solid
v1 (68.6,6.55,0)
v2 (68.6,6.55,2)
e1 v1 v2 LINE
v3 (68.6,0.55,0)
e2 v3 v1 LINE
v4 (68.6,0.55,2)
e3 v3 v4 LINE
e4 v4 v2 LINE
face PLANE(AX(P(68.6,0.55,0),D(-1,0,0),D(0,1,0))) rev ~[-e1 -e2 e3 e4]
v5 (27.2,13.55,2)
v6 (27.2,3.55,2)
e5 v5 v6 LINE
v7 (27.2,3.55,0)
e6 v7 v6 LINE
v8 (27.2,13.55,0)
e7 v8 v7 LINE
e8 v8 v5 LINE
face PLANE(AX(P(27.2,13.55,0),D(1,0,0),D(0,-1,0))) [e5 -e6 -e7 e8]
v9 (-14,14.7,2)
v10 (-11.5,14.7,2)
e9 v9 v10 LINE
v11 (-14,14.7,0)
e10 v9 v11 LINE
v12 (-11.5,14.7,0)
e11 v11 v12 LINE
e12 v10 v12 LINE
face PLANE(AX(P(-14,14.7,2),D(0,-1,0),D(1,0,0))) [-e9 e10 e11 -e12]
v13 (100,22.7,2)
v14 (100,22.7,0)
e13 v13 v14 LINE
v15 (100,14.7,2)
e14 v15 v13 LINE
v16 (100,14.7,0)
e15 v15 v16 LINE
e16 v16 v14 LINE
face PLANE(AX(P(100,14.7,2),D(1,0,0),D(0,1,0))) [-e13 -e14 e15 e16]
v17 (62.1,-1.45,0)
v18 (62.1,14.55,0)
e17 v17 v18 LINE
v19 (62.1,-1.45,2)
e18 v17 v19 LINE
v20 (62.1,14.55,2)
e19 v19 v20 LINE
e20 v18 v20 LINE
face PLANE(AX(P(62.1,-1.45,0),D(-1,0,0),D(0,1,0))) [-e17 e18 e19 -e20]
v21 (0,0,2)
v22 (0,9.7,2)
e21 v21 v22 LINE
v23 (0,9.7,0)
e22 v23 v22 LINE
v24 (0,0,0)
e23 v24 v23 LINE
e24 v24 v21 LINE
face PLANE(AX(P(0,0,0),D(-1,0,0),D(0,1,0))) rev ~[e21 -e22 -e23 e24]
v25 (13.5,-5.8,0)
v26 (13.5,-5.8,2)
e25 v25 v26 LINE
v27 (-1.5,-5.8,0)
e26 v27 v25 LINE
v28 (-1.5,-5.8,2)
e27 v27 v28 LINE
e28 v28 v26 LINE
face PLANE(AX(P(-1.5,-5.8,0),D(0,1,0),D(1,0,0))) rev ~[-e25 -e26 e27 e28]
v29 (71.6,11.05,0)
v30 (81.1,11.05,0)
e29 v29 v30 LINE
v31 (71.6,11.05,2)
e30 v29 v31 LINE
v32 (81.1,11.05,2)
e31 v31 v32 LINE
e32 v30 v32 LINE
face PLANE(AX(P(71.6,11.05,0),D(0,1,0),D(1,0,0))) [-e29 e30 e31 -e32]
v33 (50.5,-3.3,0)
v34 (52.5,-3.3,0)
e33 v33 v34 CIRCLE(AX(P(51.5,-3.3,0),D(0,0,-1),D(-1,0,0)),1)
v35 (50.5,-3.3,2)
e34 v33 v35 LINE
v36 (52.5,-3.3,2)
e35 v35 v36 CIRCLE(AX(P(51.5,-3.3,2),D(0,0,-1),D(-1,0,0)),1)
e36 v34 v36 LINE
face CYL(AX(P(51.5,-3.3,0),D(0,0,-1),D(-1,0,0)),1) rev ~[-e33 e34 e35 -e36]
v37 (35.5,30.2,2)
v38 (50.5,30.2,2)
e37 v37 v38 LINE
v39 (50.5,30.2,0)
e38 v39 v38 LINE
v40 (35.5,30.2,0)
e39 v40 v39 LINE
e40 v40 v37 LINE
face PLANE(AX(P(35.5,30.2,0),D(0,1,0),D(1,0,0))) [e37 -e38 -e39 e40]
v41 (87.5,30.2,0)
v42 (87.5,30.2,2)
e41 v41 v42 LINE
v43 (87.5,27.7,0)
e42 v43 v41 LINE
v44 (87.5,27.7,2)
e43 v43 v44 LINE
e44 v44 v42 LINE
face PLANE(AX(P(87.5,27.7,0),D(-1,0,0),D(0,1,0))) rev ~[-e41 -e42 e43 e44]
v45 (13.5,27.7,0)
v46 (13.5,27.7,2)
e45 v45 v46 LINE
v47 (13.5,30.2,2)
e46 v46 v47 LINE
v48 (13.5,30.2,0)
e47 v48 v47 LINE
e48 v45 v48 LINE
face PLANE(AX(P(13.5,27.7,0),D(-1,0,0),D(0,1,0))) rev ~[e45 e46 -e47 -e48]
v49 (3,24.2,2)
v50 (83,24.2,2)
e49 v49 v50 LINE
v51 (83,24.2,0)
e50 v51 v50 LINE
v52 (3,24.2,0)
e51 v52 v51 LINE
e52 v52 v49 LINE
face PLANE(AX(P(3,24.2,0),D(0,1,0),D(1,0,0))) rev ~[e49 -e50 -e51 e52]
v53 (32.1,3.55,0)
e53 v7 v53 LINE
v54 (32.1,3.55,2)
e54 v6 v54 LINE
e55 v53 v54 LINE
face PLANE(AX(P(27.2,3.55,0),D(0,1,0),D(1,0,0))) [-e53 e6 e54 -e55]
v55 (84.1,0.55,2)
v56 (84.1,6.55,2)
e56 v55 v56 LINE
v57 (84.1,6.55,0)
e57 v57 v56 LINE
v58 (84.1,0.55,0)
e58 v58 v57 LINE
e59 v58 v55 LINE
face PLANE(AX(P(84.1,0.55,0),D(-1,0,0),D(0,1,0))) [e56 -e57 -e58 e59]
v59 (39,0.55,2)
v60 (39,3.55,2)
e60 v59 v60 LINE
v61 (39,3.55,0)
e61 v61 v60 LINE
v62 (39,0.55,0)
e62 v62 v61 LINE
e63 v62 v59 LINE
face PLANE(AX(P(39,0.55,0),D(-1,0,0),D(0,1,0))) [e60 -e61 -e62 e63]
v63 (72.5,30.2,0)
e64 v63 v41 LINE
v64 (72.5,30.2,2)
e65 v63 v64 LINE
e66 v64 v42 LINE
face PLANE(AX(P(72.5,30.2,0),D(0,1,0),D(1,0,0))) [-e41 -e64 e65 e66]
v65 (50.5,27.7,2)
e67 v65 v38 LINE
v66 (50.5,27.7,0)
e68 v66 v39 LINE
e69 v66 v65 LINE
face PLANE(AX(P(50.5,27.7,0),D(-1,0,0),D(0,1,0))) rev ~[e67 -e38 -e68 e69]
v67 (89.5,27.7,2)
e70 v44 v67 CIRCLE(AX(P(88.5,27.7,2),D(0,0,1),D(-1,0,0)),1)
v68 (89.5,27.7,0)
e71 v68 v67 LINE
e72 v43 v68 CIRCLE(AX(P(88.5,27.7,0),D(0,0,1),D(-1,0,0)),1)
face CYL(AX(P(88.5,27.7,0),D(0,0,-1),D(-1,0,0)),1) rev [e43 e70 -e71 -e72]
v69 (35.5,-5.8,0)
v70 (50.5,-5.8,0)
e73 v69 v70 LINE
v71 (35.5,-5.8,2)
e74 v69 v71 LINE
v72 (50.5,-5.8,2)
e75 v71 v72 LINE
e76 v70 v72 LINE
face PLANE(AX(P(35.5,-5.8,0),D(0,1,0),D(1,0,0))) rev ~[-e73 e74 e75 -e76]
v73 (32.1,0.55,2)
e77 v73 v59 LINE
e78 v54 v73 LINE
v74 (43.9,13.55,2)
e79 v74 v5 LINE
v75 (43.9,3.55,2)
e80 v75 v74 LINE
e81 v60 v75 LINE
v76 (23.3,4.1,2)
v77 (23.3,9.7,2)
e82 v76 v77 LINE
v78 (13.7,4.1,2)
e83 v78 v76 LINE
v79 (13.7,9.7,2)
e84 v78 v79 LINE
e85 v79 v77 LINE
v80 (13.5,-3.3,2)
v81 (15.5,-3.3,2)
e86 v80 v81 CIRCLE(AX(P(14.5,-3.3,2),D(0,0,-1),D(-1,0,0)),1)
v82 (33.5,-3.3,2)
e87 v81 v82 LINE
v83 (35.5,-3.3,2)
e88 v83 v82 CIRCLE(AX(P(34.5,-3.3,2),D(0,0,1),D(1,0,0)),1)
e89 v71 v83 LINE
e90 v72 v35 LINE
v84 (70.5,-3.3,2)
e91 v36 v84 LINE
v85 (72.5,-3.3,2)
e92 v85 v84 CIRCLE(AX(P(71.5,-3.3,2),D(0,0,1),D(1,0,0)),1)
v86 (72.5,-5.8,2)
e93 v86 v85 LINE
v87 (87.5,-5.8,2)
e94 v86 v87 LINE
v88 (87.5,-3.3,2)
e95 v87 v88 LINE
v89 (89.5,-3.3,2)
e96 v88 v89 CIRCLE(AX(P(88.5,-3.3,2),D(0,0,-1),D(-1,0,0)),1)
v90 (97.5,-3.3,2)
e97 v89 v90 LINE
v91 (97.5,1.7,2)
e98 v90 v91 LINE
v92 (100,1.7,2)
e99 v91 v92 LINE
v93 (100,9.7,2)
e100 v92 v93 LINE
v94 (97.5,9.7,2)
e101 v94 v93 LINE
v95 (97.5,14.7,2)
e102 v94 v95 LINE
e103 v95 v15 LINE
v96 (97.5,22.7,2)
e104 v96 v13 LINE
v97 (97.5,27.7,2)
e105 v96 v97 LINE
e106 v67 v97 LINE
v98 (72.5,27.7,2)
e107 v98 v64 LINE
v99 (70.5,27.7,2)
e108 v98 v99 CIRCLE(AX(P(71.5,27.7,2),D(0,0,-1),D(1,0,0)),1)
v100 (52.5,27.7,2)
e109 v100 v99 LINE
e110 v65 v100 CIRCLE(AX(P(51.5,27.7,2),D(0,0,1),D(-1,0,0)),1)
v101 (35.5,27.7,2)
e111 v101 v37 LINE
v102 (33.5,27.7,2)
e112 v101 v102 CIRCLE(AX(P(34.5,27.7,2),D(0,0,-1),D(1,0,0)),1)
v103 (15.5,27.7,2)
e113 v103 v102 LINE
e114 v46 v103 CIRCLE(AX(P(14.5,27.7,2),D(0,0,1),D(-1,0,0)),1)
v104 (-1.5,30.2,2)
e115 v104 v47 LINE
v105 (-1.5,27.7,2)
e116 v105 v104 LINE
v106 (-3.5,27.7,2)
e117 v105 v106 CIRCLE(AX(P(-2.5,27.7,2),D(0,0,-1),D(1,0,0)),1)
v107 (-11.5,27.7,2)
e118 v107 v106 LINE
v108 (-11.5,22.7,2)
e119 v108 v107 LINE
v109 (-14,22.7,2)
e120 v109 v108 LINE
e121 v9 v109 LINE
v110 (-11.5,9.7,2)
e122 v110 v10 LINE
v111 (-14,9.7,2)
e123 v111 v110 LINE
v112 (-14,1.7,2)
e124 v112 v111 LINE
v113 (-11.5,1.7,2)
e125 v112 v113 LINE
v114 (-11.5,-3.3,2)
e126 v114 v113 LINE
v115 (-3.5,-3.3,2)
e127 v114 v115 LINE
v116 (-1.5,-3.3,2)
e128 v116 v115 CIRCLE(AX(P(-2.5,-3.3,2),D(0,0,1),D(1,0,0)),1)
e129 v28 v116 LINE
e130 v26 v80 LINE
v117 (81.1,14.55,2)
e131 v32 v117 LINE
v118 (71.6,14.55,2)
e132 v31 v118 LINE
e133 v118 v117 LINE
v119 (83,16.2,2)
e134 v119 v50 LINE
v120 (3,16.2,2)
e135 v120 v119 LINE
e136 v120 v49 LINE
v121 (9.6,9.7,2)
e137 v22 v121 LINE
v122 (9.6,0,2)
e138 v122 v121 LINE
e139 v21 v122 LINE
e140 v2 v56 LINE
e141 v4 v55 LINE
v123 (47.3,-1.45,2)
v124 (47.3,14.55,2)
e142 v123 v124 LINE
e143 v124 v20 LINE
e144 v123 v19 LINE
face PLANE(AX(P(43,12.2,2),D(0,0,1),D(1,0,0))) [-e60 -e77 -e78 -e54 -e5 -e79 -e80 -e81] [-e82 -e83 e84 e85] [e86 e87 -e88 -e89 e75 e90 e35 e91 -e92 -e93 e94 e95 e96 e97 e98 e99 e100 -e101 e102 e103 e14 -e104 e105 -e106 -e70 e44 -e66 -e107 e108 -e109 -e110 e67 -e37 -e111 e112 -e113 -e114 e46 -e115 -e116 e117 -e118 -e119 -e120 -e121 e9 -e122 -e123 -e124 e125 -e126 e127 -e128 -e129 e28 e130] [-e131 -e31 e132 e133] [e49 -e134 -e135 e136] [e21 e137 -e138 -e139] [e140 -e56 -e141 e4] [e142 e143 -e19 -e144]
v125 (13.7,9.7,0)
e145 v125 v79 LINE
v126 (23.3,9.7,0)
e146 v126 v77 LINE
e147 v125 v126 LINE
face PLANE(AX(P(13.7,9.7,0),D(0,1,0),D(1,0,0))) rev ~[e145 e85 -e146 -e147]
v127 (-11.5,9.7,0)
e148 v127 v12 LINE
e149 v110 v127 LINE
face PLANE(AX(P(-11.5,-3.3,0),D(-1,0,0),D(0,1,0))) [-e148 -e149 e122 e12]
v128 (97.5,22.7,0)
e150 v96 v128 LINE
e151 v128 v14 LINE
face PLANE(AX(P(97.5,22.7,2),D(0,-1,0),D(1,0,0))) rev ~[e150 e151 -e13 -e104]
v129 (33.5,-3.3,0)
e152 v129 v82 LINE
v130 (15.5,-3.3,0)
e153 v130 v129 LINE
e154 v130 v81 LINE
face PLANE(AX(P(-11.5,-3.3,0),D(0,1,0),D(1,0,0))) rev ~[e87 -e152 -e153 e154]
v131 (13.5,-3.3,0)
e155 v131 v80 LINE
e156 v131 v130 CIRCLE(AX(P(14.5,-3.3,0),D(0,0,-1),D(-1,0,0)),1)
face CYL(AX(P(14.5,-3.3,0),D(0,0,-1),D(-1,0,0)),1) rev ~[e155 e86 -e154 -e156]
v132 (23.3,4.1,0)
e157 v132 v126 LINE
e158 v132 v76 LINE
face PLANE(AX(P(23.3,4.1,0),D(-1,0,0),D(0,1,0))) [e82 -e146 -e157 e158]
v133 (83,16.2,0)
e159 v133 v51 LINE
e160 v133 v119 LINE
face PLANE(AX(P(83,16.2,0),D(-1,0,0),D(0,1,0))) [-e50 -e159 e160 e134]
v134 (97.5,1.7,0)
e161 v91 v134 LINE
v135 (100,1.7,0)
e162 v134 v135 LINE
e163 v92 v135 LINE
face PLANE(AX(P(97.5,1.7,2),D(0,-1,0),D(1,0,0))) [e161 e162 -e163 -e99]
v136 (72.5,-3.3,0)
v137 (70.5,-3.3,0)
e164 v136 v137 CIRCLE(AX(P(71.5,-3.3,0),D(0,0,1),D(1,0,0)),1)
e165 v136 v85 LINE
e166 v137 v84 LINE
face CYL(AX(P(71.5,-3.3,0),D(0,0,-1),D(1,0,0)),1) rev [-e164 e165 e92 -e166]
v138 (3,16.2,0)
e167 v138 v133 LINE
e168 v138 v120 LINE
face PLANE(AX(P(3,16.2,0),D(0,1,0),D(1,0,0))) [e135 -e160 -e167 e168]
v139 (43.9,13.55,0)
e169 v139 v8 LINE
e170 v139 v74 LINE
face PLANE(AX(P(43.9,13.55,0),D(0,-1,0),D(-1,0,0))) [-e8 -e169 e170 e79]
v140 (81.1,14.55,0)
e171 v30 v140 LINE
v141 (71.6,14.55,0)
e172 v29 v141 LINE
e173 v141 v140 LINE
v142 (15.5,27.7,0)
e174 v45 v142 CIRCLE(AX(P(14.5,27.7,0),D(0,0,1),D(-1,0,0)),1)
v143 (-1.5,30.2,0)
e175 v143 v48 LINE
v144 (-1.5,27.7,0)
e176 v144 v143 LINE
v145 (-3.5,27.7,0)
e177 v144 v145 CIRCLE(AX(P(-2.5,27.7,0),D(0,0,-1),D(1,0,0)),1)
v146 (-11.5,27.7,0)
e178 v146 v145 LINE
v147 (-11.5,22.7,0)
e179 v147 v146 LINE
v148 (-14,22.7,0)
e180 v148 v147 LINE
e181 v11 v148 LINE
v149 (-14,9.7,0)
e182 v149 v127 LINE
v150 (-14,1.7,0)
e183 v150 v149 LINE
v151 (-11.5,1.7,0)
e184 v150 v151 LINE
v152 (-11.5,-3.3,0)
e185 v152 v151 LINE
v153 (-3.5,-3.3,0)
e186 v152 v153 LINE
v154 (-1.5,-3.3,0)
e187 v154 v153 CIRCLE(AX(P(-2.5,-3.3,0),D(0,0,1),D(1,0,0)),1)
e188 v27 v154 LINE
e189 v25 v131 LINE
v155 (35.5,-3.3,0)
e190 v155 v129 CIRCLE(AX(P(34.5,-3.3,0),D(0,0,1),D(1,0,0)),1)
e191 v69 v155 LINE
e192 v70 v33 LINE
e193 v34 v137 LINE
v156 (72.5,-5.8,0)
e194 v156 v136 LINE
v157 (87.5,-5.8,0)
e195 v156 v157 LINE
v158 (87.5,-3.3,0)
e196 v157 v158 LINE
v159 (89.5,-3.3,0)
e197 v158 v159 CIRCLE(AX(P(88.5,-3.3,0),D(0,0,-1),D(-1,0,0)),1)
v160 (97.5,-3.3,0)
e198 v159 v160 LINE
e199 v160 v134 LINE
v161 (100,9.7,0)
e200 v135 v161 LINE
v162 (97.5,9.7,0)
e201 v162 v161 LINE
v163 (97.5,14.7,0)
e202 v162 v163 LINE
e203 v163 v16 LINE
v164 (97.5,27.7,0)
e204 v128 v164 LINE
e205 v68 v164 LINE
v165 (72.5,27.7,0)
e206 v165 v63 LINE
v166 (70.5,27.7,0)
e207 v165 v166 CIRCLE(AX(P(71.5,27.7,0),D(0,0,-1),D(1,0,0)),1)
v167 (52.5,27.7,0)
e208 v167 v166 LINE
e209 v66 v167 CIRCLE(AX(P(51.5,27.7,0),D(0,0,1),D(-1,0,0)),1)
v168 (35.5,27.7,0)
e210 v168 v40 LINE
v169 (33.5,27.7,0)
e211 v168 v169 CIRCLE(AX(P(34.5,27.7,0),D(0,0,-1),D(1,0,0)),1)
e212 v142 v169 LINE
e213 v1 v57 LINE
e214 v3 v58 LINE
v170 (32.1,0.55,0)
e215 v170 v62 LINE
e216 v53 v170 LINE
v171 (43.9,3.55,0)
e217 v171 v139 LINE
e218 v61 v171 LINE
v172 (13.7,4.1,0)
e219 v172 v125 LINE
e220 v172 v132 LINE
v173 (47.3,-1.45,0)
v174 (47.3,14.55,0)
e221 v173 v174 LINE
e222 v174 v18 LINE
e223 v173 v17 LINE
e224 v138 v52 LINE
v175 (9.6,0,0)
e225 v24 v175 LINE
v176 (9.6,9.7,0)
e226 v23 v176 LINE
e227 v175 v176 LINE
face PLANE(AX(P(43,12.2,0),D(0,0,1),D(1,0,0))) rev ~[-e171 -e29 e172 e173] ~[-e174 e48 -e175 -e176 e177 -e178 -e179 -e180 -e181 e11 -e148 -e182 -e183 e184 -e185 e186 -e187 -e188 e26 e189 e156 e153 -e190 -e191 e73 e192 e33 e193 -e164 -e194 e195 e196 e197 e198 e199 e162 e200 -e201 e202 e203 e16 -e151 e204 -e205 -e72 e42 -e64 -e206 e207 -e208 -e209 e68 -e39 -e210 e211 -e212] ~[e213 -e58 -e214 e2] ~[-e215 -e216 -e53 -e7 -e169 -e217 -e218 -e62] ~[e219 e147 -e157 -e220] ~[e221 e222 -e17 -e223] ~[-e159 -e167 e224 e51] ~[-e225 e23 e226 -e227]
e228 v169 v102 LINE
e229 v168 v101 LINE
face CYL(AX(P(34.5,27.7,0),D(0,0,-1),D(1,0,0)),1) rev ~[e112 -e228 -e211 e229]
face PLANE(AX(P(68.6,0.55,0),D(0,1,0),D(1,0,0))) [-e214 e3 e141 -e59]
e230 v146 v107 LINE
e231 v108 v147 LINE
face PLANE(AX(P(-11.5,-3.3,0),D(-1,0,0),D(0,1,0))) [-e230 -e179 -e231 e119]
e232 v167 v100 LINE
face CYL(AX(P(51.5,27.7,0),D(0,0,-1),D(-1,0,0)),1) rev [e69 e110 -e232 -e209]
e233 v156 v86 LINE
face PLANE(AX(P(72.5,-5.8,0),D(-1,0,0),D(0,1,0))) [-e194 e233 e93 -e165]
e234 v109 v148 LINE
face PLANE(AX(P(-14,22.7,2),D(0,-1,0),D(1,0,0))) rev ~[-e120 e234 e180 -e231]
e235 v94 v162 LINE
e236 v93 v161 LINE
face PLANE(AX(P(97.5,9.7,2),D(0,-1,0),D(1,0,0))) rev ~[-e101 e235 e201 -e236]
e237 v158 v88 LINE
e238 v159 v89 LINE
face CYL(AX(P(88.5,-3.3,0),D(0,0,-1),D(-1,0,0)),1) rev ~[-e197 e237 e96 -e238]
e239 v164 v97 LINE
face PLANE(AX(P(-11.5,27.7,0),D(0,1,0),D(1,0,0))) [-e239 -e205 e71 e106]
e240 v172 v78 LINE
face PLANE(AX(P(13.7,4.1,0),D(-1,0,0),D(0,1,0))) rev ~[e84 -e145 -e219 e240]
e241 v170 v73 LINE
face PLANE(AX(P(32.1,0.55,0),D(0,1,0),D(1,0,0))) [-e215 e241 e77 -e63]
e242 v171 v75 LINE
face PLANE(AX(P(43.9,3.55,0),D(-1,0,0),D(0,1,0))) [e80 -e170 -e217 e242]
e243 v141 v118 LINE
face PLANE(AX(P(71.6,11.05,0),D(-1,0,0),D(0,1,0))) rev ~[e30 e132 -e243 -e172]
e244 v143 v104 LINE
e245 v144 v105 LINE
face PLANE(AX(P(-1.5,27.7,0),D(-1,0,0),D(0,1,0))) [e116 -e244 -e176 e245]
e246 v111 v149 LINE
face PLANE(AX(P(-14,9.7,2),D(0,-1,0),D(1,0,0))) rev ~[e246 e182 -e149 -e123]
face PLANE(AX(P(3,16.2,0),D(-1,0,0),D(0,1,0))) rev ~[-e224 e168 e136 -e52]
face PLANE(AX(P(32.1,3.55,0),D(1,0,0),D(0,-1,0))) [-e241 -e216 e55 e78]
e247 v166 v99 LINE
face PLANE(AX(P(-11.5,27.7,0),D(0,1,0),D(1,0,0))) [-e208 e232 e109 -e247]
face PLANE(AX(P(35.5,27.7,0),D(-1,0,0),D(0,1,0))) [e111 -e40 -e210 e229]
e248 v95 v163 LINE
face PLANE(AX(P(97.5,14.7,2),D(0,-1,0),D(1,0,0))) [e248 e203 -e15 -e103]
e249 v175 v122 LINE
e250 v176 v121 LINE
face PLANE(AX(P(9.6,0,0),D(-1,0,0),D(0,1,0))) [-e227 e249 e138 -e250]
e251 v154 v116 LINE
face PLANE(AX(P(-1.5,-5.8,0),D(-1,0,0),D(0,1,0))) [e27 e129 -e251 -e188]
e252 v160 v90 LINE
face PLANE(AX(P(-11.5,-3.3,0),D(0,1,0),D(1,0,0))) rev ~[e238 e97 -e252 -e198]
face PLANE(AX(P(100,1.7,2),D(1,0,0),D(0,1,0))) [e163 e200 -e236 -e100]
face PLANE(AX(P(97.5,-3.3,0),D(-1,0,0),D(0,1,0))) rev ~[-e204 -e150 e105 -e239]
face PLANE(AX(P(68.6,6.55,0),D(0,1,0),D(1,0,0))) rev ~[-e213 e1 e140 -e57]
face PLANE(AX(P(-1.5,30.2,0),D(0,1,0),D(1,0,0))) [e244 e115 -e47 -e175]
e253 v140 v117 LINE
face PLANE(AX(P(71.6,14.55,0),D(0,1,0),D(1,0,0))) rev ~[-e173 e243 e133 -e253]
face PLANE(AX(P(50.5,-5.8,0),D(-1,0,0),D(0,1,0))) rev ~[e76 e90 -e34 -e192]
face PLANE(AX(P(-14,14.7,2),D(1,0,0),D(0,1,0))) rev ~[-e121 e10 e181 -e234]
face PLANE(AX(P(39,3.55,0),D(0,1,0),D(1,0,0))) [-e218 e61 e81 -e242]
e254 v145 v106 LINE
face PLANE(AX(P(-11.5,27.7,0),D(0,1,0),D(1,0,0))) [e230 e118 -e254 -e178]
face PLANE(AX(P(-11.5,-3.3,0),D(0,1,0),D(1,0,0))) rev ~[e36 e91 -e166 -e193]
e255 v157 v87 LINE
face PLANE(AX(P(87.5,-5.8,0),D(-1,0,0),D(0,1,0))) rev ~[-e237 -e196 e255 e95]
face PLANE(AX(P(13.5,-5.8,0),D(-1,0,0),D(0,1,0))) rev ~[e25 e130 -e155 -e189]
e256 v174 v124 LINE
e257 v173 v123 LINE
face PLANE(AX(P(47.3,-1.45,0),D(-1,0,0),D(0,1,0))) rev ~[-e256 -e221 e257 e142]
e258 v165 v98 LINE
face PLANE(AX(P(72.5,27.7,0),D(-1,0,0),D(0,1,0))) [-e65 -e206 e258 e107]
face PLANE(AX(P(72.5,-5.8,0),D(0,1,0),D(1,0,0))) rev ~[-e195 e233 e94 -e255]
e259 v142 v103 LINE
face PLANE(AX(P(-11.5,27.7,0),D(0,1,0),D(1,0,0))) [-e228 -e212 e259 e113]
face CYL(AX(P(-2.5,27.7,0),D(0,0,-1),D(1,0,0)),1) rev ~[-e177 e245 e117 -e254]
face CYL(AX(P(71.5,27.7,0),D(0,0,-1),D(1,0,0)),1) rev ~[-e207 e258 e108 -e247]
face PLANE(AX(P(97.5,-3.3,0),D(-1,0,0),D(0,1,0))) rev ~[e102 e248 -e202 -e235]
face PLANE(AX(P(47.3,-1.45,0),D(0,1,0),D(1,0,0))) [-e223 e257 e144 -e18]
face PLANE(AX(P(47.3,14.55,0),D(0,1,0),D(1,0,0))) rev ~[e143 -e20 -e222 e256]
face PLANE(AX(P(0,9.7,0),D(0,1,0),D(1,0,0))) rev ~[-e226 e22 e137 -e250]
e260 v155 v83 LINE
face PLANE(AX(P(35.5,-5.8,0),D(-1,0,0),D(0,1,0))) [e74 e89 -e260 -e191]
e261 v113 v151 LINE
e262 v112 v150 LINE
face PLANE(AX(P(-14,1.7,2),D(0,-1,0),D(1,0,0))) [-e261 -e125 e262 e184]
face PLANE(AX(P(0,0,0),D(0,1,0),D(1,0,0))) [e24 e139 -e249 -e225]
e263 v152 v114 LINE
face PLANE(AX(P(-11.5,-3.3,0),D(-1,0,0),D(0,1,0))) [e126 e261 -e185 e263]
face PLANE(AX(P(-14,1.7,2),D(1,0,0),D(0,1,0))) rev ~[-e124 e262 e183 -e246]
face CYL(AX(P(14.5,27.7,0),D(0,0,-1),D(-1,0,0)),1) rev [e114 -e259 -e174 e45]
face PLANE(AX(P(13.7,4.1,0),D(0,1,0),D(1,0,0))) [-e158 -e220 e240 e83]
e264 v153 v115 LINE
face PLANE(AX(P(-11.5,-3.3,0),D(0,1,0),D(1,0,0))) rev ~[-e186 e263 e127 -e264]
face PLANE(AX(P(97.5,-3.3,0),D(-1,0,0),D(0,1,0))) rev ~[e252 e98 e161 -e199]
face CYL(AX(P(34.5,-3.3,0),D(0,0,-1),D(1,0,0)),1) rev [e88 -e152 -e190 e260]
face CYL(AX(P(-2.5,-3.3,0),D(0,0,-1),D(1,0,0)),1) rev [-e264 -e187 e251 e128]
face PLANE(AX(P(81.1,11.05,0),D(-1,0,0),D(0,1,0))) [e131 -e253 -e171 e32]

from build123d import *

# Parameters (mm, degrees)
SKETCH_1_W          = 109
SKETCH_1_H          = 31
SKETCH_1_W_2        = 9.6
SKETCH_1_H_2        = 9.7
SKETCH_1_H_3        = 5.6
SKETCH_1_W_3        = 14.8
SKETCH_1_H_4        = 16
SKETCH_1_W_4        = 9.5
SKETCH_1_H_5        = 3.5
SKETCH_1_W_5        = 15.5
SKETCH_1_H_6        = 6
SKETCH_1_W_6        = 80
SKETCH_1_H_7        = 8
EXTRUDE_1_DEPTH     = 2
SKETCH_2_W          = 2.5
SKETCH_2_H          = 8
EXTRUDE_2_DEPTH     = 2
SKETCH_3_W          = 15
SKETCH_3_H          = 2.5
EXTRUDE_4_DEPTH     = 2
CUT_EXTRUDE_2_DEPTH = 2


with BuildPart() as part:
    # 草图1 → 凸台-拉伸1 (new body)
    with BuildSketch(Plane.XY):
        with Locations((43, 12.2)):
            Rectangle(SKETCH_1_W, SKETCH_1_H)
        Polygon((27.2, 3.55), (32.1, 3.55), (32.1, 0.55), (39, 0.55), (39, 3.55), (43.9, 3.55), (43.9, 13.55), (27.2, 13.55), align=None, mode=Mode.SUBTRACT)
        with Locations((4.8, 4.85)):
            Rectangle(SKETCH_1_W_2, SKETCH_1_H_2, mode=Mode.SUBTRACT)
        with Locations((18.5, 6.9)):
            Rectangle(SKETCH_1_W_2, SKETCH_1_H_3, mode=Mode.SUBTRACT)
        with Locations((54.7, 6.55)):
            Rectangle(SKETCH_1_W_3, SKETCH_1_H_4, mode=Mode.SUBTRACT)
        with Locations((76.35, 12.8)):
            Rectangle(SKETCH_1_W_4, SKETCH_1_H_5, mode=Mode.SUBTRACT)
        with Locations((76.35, 3.55)):
            Rectangle(SKETCH_1_W_5, SKETCH_1_H_6, mode=Mode.SUBTRACT)
        with Locations((43, 20.2)):
            Rectangle(SKETCH_1_W_6, SKETCH_1_H_7, mode=Mode.SUBTRACT)
    extrude(amount=EXTRUDE_1_DEPTH)

    # 草图2 → 凸台-拉伸2 (add)
    with BuildSketch(Plane.XY.offset(2)):
        with Locations((-12.75, 18.7)):
            Rectangle(SKETCH_2_W, SKETCH_2_H)
        with Locations((-12.75, 5.7)):
            Rectangle(SKETCH_2_W, SKETCH_2_H)
        with Locations((98.75, 5.7)):
            Rectangle(SKETCH_2_W, SKETCH_2_H)
        with Locations((98.75, 18.7)):
            Rectangle(SKETCH_2_W, SKETCH_2_H)
    extrude(amount=-EXTRUDE_2_DEPTH)

    # 草图3 → 凸台-拉伸4 (add)
    with BuildSketch(Plane.XY):
        with Locations((6, 28.95)):
            Rectangle(SKETCH_3_W, SKETCH_3_H)
        with Locations((43, 28.95)):
            Rectangle(SKETCH_3_W, SKETCH_3_H)
        with Locations((80, 28.95)):
            Rectangle(SKETCH_3_W, SKETCH_3_H)
        with Locations((80, -4.55)):
            Rectangle(SKETCH_3_W, SKETCH_3_H)
        with Locations((43, -4.55)):
            Rectangle(SKETCH_3_W, SKETCH_3_H)
        with Locations((6, -4.55)):
            Rectangle(SKETCH_3_W, SKETCH_3_H)
    extrude(amount=EXTRUDE_4_DEPTH)

    # 草图4 → 切除-拉伸2 (cut)
    with BuildSketch(Plane.XY):
        with BuildLine():
            Line((-3.5, 27.7), (-1.5, 27.7))
            ThreePointArc((-1.5, 27.7), (-2.5, 26.7), (-3.5, 27.7))
        make_face()
        with BuildLine():
            Line((15.5, 27.7), (13.5, 27.7))
            ThreePointArc((13.5, 27.7), (14.5, 26.7), (15.5, 27.7))
        make_face()
        with BuildLine():
            Line((33.5, 27.7), (35.5, 27.7))
            ThreePointArc((35.5, 27.7), (34.5, 26.7), (33.5, 27.7))
        make_face()
        with BuildLine():
            Line((52.5, 27.7), (50.5, 27.7))
            ThreePointArc((50.5, 27.7), (51.5, 26.7), (52.5, 27.7))
        make_face()
        with BuildLine():
            Line((70.5, 27.7), (72.5, 27.7))
            ThreePointArc((72.5, 27.7), (71.5, 26.7), (70.5, 27.7))
        make_face()
        with BuildLine():
            Line((89.5, 27.7), (87.5, 27.7))
            ThreePointArc((87.5, 27.7), (88.5, 26.7), (89.5, 27.7))
        make_face()
        with BuildLine():
            Line((89.5, -3.3), (87.5, -3.3))
            ThreePointArc((87.5, -3.3), (88.5, -2.3), (89.5, -3.3))
        make_face()
        with BuildLine():
            Line((70.5, -3.3), (72.5, -3.3))
            ThreePointArc((72.5, -3.3), (71.5, -2.3), (70.5, -3.3))
        make_face()
        with BuildLine():
            Line((52.5, -3.3), (50.5, -3.3))
            ThreePointArc((50.5, -3.3), (51.5, -2.3), (52.5, -3.3))
        make_face()
        with BuildLine():
            Line((33.5, -3.3), (35.5, -3.3))
            ThreePointArc((35.5, -3.3), (34.5, -2.3), (33.5, -3.3))
        make_face()
        with BuildLine():
            Line((15.5, -3.3), (13.5, -3.3))
            ThreePointArc((13.5, -3.3), (14.5, -2.3), (15.5, -3.3))
        make_face()
        with BuildLine():
            Line((-3.5, -3.3), (-1.5, -3.3))
            ThreePointArc((-1.5, -3.3), (-2.5, -2.3), (-3.5, -3.3))
        make_face()
    extrude(amount=CUT_EXTRUDE_2_DEPTH, mode=Mode.SUBTRACT)


solid = part.part
